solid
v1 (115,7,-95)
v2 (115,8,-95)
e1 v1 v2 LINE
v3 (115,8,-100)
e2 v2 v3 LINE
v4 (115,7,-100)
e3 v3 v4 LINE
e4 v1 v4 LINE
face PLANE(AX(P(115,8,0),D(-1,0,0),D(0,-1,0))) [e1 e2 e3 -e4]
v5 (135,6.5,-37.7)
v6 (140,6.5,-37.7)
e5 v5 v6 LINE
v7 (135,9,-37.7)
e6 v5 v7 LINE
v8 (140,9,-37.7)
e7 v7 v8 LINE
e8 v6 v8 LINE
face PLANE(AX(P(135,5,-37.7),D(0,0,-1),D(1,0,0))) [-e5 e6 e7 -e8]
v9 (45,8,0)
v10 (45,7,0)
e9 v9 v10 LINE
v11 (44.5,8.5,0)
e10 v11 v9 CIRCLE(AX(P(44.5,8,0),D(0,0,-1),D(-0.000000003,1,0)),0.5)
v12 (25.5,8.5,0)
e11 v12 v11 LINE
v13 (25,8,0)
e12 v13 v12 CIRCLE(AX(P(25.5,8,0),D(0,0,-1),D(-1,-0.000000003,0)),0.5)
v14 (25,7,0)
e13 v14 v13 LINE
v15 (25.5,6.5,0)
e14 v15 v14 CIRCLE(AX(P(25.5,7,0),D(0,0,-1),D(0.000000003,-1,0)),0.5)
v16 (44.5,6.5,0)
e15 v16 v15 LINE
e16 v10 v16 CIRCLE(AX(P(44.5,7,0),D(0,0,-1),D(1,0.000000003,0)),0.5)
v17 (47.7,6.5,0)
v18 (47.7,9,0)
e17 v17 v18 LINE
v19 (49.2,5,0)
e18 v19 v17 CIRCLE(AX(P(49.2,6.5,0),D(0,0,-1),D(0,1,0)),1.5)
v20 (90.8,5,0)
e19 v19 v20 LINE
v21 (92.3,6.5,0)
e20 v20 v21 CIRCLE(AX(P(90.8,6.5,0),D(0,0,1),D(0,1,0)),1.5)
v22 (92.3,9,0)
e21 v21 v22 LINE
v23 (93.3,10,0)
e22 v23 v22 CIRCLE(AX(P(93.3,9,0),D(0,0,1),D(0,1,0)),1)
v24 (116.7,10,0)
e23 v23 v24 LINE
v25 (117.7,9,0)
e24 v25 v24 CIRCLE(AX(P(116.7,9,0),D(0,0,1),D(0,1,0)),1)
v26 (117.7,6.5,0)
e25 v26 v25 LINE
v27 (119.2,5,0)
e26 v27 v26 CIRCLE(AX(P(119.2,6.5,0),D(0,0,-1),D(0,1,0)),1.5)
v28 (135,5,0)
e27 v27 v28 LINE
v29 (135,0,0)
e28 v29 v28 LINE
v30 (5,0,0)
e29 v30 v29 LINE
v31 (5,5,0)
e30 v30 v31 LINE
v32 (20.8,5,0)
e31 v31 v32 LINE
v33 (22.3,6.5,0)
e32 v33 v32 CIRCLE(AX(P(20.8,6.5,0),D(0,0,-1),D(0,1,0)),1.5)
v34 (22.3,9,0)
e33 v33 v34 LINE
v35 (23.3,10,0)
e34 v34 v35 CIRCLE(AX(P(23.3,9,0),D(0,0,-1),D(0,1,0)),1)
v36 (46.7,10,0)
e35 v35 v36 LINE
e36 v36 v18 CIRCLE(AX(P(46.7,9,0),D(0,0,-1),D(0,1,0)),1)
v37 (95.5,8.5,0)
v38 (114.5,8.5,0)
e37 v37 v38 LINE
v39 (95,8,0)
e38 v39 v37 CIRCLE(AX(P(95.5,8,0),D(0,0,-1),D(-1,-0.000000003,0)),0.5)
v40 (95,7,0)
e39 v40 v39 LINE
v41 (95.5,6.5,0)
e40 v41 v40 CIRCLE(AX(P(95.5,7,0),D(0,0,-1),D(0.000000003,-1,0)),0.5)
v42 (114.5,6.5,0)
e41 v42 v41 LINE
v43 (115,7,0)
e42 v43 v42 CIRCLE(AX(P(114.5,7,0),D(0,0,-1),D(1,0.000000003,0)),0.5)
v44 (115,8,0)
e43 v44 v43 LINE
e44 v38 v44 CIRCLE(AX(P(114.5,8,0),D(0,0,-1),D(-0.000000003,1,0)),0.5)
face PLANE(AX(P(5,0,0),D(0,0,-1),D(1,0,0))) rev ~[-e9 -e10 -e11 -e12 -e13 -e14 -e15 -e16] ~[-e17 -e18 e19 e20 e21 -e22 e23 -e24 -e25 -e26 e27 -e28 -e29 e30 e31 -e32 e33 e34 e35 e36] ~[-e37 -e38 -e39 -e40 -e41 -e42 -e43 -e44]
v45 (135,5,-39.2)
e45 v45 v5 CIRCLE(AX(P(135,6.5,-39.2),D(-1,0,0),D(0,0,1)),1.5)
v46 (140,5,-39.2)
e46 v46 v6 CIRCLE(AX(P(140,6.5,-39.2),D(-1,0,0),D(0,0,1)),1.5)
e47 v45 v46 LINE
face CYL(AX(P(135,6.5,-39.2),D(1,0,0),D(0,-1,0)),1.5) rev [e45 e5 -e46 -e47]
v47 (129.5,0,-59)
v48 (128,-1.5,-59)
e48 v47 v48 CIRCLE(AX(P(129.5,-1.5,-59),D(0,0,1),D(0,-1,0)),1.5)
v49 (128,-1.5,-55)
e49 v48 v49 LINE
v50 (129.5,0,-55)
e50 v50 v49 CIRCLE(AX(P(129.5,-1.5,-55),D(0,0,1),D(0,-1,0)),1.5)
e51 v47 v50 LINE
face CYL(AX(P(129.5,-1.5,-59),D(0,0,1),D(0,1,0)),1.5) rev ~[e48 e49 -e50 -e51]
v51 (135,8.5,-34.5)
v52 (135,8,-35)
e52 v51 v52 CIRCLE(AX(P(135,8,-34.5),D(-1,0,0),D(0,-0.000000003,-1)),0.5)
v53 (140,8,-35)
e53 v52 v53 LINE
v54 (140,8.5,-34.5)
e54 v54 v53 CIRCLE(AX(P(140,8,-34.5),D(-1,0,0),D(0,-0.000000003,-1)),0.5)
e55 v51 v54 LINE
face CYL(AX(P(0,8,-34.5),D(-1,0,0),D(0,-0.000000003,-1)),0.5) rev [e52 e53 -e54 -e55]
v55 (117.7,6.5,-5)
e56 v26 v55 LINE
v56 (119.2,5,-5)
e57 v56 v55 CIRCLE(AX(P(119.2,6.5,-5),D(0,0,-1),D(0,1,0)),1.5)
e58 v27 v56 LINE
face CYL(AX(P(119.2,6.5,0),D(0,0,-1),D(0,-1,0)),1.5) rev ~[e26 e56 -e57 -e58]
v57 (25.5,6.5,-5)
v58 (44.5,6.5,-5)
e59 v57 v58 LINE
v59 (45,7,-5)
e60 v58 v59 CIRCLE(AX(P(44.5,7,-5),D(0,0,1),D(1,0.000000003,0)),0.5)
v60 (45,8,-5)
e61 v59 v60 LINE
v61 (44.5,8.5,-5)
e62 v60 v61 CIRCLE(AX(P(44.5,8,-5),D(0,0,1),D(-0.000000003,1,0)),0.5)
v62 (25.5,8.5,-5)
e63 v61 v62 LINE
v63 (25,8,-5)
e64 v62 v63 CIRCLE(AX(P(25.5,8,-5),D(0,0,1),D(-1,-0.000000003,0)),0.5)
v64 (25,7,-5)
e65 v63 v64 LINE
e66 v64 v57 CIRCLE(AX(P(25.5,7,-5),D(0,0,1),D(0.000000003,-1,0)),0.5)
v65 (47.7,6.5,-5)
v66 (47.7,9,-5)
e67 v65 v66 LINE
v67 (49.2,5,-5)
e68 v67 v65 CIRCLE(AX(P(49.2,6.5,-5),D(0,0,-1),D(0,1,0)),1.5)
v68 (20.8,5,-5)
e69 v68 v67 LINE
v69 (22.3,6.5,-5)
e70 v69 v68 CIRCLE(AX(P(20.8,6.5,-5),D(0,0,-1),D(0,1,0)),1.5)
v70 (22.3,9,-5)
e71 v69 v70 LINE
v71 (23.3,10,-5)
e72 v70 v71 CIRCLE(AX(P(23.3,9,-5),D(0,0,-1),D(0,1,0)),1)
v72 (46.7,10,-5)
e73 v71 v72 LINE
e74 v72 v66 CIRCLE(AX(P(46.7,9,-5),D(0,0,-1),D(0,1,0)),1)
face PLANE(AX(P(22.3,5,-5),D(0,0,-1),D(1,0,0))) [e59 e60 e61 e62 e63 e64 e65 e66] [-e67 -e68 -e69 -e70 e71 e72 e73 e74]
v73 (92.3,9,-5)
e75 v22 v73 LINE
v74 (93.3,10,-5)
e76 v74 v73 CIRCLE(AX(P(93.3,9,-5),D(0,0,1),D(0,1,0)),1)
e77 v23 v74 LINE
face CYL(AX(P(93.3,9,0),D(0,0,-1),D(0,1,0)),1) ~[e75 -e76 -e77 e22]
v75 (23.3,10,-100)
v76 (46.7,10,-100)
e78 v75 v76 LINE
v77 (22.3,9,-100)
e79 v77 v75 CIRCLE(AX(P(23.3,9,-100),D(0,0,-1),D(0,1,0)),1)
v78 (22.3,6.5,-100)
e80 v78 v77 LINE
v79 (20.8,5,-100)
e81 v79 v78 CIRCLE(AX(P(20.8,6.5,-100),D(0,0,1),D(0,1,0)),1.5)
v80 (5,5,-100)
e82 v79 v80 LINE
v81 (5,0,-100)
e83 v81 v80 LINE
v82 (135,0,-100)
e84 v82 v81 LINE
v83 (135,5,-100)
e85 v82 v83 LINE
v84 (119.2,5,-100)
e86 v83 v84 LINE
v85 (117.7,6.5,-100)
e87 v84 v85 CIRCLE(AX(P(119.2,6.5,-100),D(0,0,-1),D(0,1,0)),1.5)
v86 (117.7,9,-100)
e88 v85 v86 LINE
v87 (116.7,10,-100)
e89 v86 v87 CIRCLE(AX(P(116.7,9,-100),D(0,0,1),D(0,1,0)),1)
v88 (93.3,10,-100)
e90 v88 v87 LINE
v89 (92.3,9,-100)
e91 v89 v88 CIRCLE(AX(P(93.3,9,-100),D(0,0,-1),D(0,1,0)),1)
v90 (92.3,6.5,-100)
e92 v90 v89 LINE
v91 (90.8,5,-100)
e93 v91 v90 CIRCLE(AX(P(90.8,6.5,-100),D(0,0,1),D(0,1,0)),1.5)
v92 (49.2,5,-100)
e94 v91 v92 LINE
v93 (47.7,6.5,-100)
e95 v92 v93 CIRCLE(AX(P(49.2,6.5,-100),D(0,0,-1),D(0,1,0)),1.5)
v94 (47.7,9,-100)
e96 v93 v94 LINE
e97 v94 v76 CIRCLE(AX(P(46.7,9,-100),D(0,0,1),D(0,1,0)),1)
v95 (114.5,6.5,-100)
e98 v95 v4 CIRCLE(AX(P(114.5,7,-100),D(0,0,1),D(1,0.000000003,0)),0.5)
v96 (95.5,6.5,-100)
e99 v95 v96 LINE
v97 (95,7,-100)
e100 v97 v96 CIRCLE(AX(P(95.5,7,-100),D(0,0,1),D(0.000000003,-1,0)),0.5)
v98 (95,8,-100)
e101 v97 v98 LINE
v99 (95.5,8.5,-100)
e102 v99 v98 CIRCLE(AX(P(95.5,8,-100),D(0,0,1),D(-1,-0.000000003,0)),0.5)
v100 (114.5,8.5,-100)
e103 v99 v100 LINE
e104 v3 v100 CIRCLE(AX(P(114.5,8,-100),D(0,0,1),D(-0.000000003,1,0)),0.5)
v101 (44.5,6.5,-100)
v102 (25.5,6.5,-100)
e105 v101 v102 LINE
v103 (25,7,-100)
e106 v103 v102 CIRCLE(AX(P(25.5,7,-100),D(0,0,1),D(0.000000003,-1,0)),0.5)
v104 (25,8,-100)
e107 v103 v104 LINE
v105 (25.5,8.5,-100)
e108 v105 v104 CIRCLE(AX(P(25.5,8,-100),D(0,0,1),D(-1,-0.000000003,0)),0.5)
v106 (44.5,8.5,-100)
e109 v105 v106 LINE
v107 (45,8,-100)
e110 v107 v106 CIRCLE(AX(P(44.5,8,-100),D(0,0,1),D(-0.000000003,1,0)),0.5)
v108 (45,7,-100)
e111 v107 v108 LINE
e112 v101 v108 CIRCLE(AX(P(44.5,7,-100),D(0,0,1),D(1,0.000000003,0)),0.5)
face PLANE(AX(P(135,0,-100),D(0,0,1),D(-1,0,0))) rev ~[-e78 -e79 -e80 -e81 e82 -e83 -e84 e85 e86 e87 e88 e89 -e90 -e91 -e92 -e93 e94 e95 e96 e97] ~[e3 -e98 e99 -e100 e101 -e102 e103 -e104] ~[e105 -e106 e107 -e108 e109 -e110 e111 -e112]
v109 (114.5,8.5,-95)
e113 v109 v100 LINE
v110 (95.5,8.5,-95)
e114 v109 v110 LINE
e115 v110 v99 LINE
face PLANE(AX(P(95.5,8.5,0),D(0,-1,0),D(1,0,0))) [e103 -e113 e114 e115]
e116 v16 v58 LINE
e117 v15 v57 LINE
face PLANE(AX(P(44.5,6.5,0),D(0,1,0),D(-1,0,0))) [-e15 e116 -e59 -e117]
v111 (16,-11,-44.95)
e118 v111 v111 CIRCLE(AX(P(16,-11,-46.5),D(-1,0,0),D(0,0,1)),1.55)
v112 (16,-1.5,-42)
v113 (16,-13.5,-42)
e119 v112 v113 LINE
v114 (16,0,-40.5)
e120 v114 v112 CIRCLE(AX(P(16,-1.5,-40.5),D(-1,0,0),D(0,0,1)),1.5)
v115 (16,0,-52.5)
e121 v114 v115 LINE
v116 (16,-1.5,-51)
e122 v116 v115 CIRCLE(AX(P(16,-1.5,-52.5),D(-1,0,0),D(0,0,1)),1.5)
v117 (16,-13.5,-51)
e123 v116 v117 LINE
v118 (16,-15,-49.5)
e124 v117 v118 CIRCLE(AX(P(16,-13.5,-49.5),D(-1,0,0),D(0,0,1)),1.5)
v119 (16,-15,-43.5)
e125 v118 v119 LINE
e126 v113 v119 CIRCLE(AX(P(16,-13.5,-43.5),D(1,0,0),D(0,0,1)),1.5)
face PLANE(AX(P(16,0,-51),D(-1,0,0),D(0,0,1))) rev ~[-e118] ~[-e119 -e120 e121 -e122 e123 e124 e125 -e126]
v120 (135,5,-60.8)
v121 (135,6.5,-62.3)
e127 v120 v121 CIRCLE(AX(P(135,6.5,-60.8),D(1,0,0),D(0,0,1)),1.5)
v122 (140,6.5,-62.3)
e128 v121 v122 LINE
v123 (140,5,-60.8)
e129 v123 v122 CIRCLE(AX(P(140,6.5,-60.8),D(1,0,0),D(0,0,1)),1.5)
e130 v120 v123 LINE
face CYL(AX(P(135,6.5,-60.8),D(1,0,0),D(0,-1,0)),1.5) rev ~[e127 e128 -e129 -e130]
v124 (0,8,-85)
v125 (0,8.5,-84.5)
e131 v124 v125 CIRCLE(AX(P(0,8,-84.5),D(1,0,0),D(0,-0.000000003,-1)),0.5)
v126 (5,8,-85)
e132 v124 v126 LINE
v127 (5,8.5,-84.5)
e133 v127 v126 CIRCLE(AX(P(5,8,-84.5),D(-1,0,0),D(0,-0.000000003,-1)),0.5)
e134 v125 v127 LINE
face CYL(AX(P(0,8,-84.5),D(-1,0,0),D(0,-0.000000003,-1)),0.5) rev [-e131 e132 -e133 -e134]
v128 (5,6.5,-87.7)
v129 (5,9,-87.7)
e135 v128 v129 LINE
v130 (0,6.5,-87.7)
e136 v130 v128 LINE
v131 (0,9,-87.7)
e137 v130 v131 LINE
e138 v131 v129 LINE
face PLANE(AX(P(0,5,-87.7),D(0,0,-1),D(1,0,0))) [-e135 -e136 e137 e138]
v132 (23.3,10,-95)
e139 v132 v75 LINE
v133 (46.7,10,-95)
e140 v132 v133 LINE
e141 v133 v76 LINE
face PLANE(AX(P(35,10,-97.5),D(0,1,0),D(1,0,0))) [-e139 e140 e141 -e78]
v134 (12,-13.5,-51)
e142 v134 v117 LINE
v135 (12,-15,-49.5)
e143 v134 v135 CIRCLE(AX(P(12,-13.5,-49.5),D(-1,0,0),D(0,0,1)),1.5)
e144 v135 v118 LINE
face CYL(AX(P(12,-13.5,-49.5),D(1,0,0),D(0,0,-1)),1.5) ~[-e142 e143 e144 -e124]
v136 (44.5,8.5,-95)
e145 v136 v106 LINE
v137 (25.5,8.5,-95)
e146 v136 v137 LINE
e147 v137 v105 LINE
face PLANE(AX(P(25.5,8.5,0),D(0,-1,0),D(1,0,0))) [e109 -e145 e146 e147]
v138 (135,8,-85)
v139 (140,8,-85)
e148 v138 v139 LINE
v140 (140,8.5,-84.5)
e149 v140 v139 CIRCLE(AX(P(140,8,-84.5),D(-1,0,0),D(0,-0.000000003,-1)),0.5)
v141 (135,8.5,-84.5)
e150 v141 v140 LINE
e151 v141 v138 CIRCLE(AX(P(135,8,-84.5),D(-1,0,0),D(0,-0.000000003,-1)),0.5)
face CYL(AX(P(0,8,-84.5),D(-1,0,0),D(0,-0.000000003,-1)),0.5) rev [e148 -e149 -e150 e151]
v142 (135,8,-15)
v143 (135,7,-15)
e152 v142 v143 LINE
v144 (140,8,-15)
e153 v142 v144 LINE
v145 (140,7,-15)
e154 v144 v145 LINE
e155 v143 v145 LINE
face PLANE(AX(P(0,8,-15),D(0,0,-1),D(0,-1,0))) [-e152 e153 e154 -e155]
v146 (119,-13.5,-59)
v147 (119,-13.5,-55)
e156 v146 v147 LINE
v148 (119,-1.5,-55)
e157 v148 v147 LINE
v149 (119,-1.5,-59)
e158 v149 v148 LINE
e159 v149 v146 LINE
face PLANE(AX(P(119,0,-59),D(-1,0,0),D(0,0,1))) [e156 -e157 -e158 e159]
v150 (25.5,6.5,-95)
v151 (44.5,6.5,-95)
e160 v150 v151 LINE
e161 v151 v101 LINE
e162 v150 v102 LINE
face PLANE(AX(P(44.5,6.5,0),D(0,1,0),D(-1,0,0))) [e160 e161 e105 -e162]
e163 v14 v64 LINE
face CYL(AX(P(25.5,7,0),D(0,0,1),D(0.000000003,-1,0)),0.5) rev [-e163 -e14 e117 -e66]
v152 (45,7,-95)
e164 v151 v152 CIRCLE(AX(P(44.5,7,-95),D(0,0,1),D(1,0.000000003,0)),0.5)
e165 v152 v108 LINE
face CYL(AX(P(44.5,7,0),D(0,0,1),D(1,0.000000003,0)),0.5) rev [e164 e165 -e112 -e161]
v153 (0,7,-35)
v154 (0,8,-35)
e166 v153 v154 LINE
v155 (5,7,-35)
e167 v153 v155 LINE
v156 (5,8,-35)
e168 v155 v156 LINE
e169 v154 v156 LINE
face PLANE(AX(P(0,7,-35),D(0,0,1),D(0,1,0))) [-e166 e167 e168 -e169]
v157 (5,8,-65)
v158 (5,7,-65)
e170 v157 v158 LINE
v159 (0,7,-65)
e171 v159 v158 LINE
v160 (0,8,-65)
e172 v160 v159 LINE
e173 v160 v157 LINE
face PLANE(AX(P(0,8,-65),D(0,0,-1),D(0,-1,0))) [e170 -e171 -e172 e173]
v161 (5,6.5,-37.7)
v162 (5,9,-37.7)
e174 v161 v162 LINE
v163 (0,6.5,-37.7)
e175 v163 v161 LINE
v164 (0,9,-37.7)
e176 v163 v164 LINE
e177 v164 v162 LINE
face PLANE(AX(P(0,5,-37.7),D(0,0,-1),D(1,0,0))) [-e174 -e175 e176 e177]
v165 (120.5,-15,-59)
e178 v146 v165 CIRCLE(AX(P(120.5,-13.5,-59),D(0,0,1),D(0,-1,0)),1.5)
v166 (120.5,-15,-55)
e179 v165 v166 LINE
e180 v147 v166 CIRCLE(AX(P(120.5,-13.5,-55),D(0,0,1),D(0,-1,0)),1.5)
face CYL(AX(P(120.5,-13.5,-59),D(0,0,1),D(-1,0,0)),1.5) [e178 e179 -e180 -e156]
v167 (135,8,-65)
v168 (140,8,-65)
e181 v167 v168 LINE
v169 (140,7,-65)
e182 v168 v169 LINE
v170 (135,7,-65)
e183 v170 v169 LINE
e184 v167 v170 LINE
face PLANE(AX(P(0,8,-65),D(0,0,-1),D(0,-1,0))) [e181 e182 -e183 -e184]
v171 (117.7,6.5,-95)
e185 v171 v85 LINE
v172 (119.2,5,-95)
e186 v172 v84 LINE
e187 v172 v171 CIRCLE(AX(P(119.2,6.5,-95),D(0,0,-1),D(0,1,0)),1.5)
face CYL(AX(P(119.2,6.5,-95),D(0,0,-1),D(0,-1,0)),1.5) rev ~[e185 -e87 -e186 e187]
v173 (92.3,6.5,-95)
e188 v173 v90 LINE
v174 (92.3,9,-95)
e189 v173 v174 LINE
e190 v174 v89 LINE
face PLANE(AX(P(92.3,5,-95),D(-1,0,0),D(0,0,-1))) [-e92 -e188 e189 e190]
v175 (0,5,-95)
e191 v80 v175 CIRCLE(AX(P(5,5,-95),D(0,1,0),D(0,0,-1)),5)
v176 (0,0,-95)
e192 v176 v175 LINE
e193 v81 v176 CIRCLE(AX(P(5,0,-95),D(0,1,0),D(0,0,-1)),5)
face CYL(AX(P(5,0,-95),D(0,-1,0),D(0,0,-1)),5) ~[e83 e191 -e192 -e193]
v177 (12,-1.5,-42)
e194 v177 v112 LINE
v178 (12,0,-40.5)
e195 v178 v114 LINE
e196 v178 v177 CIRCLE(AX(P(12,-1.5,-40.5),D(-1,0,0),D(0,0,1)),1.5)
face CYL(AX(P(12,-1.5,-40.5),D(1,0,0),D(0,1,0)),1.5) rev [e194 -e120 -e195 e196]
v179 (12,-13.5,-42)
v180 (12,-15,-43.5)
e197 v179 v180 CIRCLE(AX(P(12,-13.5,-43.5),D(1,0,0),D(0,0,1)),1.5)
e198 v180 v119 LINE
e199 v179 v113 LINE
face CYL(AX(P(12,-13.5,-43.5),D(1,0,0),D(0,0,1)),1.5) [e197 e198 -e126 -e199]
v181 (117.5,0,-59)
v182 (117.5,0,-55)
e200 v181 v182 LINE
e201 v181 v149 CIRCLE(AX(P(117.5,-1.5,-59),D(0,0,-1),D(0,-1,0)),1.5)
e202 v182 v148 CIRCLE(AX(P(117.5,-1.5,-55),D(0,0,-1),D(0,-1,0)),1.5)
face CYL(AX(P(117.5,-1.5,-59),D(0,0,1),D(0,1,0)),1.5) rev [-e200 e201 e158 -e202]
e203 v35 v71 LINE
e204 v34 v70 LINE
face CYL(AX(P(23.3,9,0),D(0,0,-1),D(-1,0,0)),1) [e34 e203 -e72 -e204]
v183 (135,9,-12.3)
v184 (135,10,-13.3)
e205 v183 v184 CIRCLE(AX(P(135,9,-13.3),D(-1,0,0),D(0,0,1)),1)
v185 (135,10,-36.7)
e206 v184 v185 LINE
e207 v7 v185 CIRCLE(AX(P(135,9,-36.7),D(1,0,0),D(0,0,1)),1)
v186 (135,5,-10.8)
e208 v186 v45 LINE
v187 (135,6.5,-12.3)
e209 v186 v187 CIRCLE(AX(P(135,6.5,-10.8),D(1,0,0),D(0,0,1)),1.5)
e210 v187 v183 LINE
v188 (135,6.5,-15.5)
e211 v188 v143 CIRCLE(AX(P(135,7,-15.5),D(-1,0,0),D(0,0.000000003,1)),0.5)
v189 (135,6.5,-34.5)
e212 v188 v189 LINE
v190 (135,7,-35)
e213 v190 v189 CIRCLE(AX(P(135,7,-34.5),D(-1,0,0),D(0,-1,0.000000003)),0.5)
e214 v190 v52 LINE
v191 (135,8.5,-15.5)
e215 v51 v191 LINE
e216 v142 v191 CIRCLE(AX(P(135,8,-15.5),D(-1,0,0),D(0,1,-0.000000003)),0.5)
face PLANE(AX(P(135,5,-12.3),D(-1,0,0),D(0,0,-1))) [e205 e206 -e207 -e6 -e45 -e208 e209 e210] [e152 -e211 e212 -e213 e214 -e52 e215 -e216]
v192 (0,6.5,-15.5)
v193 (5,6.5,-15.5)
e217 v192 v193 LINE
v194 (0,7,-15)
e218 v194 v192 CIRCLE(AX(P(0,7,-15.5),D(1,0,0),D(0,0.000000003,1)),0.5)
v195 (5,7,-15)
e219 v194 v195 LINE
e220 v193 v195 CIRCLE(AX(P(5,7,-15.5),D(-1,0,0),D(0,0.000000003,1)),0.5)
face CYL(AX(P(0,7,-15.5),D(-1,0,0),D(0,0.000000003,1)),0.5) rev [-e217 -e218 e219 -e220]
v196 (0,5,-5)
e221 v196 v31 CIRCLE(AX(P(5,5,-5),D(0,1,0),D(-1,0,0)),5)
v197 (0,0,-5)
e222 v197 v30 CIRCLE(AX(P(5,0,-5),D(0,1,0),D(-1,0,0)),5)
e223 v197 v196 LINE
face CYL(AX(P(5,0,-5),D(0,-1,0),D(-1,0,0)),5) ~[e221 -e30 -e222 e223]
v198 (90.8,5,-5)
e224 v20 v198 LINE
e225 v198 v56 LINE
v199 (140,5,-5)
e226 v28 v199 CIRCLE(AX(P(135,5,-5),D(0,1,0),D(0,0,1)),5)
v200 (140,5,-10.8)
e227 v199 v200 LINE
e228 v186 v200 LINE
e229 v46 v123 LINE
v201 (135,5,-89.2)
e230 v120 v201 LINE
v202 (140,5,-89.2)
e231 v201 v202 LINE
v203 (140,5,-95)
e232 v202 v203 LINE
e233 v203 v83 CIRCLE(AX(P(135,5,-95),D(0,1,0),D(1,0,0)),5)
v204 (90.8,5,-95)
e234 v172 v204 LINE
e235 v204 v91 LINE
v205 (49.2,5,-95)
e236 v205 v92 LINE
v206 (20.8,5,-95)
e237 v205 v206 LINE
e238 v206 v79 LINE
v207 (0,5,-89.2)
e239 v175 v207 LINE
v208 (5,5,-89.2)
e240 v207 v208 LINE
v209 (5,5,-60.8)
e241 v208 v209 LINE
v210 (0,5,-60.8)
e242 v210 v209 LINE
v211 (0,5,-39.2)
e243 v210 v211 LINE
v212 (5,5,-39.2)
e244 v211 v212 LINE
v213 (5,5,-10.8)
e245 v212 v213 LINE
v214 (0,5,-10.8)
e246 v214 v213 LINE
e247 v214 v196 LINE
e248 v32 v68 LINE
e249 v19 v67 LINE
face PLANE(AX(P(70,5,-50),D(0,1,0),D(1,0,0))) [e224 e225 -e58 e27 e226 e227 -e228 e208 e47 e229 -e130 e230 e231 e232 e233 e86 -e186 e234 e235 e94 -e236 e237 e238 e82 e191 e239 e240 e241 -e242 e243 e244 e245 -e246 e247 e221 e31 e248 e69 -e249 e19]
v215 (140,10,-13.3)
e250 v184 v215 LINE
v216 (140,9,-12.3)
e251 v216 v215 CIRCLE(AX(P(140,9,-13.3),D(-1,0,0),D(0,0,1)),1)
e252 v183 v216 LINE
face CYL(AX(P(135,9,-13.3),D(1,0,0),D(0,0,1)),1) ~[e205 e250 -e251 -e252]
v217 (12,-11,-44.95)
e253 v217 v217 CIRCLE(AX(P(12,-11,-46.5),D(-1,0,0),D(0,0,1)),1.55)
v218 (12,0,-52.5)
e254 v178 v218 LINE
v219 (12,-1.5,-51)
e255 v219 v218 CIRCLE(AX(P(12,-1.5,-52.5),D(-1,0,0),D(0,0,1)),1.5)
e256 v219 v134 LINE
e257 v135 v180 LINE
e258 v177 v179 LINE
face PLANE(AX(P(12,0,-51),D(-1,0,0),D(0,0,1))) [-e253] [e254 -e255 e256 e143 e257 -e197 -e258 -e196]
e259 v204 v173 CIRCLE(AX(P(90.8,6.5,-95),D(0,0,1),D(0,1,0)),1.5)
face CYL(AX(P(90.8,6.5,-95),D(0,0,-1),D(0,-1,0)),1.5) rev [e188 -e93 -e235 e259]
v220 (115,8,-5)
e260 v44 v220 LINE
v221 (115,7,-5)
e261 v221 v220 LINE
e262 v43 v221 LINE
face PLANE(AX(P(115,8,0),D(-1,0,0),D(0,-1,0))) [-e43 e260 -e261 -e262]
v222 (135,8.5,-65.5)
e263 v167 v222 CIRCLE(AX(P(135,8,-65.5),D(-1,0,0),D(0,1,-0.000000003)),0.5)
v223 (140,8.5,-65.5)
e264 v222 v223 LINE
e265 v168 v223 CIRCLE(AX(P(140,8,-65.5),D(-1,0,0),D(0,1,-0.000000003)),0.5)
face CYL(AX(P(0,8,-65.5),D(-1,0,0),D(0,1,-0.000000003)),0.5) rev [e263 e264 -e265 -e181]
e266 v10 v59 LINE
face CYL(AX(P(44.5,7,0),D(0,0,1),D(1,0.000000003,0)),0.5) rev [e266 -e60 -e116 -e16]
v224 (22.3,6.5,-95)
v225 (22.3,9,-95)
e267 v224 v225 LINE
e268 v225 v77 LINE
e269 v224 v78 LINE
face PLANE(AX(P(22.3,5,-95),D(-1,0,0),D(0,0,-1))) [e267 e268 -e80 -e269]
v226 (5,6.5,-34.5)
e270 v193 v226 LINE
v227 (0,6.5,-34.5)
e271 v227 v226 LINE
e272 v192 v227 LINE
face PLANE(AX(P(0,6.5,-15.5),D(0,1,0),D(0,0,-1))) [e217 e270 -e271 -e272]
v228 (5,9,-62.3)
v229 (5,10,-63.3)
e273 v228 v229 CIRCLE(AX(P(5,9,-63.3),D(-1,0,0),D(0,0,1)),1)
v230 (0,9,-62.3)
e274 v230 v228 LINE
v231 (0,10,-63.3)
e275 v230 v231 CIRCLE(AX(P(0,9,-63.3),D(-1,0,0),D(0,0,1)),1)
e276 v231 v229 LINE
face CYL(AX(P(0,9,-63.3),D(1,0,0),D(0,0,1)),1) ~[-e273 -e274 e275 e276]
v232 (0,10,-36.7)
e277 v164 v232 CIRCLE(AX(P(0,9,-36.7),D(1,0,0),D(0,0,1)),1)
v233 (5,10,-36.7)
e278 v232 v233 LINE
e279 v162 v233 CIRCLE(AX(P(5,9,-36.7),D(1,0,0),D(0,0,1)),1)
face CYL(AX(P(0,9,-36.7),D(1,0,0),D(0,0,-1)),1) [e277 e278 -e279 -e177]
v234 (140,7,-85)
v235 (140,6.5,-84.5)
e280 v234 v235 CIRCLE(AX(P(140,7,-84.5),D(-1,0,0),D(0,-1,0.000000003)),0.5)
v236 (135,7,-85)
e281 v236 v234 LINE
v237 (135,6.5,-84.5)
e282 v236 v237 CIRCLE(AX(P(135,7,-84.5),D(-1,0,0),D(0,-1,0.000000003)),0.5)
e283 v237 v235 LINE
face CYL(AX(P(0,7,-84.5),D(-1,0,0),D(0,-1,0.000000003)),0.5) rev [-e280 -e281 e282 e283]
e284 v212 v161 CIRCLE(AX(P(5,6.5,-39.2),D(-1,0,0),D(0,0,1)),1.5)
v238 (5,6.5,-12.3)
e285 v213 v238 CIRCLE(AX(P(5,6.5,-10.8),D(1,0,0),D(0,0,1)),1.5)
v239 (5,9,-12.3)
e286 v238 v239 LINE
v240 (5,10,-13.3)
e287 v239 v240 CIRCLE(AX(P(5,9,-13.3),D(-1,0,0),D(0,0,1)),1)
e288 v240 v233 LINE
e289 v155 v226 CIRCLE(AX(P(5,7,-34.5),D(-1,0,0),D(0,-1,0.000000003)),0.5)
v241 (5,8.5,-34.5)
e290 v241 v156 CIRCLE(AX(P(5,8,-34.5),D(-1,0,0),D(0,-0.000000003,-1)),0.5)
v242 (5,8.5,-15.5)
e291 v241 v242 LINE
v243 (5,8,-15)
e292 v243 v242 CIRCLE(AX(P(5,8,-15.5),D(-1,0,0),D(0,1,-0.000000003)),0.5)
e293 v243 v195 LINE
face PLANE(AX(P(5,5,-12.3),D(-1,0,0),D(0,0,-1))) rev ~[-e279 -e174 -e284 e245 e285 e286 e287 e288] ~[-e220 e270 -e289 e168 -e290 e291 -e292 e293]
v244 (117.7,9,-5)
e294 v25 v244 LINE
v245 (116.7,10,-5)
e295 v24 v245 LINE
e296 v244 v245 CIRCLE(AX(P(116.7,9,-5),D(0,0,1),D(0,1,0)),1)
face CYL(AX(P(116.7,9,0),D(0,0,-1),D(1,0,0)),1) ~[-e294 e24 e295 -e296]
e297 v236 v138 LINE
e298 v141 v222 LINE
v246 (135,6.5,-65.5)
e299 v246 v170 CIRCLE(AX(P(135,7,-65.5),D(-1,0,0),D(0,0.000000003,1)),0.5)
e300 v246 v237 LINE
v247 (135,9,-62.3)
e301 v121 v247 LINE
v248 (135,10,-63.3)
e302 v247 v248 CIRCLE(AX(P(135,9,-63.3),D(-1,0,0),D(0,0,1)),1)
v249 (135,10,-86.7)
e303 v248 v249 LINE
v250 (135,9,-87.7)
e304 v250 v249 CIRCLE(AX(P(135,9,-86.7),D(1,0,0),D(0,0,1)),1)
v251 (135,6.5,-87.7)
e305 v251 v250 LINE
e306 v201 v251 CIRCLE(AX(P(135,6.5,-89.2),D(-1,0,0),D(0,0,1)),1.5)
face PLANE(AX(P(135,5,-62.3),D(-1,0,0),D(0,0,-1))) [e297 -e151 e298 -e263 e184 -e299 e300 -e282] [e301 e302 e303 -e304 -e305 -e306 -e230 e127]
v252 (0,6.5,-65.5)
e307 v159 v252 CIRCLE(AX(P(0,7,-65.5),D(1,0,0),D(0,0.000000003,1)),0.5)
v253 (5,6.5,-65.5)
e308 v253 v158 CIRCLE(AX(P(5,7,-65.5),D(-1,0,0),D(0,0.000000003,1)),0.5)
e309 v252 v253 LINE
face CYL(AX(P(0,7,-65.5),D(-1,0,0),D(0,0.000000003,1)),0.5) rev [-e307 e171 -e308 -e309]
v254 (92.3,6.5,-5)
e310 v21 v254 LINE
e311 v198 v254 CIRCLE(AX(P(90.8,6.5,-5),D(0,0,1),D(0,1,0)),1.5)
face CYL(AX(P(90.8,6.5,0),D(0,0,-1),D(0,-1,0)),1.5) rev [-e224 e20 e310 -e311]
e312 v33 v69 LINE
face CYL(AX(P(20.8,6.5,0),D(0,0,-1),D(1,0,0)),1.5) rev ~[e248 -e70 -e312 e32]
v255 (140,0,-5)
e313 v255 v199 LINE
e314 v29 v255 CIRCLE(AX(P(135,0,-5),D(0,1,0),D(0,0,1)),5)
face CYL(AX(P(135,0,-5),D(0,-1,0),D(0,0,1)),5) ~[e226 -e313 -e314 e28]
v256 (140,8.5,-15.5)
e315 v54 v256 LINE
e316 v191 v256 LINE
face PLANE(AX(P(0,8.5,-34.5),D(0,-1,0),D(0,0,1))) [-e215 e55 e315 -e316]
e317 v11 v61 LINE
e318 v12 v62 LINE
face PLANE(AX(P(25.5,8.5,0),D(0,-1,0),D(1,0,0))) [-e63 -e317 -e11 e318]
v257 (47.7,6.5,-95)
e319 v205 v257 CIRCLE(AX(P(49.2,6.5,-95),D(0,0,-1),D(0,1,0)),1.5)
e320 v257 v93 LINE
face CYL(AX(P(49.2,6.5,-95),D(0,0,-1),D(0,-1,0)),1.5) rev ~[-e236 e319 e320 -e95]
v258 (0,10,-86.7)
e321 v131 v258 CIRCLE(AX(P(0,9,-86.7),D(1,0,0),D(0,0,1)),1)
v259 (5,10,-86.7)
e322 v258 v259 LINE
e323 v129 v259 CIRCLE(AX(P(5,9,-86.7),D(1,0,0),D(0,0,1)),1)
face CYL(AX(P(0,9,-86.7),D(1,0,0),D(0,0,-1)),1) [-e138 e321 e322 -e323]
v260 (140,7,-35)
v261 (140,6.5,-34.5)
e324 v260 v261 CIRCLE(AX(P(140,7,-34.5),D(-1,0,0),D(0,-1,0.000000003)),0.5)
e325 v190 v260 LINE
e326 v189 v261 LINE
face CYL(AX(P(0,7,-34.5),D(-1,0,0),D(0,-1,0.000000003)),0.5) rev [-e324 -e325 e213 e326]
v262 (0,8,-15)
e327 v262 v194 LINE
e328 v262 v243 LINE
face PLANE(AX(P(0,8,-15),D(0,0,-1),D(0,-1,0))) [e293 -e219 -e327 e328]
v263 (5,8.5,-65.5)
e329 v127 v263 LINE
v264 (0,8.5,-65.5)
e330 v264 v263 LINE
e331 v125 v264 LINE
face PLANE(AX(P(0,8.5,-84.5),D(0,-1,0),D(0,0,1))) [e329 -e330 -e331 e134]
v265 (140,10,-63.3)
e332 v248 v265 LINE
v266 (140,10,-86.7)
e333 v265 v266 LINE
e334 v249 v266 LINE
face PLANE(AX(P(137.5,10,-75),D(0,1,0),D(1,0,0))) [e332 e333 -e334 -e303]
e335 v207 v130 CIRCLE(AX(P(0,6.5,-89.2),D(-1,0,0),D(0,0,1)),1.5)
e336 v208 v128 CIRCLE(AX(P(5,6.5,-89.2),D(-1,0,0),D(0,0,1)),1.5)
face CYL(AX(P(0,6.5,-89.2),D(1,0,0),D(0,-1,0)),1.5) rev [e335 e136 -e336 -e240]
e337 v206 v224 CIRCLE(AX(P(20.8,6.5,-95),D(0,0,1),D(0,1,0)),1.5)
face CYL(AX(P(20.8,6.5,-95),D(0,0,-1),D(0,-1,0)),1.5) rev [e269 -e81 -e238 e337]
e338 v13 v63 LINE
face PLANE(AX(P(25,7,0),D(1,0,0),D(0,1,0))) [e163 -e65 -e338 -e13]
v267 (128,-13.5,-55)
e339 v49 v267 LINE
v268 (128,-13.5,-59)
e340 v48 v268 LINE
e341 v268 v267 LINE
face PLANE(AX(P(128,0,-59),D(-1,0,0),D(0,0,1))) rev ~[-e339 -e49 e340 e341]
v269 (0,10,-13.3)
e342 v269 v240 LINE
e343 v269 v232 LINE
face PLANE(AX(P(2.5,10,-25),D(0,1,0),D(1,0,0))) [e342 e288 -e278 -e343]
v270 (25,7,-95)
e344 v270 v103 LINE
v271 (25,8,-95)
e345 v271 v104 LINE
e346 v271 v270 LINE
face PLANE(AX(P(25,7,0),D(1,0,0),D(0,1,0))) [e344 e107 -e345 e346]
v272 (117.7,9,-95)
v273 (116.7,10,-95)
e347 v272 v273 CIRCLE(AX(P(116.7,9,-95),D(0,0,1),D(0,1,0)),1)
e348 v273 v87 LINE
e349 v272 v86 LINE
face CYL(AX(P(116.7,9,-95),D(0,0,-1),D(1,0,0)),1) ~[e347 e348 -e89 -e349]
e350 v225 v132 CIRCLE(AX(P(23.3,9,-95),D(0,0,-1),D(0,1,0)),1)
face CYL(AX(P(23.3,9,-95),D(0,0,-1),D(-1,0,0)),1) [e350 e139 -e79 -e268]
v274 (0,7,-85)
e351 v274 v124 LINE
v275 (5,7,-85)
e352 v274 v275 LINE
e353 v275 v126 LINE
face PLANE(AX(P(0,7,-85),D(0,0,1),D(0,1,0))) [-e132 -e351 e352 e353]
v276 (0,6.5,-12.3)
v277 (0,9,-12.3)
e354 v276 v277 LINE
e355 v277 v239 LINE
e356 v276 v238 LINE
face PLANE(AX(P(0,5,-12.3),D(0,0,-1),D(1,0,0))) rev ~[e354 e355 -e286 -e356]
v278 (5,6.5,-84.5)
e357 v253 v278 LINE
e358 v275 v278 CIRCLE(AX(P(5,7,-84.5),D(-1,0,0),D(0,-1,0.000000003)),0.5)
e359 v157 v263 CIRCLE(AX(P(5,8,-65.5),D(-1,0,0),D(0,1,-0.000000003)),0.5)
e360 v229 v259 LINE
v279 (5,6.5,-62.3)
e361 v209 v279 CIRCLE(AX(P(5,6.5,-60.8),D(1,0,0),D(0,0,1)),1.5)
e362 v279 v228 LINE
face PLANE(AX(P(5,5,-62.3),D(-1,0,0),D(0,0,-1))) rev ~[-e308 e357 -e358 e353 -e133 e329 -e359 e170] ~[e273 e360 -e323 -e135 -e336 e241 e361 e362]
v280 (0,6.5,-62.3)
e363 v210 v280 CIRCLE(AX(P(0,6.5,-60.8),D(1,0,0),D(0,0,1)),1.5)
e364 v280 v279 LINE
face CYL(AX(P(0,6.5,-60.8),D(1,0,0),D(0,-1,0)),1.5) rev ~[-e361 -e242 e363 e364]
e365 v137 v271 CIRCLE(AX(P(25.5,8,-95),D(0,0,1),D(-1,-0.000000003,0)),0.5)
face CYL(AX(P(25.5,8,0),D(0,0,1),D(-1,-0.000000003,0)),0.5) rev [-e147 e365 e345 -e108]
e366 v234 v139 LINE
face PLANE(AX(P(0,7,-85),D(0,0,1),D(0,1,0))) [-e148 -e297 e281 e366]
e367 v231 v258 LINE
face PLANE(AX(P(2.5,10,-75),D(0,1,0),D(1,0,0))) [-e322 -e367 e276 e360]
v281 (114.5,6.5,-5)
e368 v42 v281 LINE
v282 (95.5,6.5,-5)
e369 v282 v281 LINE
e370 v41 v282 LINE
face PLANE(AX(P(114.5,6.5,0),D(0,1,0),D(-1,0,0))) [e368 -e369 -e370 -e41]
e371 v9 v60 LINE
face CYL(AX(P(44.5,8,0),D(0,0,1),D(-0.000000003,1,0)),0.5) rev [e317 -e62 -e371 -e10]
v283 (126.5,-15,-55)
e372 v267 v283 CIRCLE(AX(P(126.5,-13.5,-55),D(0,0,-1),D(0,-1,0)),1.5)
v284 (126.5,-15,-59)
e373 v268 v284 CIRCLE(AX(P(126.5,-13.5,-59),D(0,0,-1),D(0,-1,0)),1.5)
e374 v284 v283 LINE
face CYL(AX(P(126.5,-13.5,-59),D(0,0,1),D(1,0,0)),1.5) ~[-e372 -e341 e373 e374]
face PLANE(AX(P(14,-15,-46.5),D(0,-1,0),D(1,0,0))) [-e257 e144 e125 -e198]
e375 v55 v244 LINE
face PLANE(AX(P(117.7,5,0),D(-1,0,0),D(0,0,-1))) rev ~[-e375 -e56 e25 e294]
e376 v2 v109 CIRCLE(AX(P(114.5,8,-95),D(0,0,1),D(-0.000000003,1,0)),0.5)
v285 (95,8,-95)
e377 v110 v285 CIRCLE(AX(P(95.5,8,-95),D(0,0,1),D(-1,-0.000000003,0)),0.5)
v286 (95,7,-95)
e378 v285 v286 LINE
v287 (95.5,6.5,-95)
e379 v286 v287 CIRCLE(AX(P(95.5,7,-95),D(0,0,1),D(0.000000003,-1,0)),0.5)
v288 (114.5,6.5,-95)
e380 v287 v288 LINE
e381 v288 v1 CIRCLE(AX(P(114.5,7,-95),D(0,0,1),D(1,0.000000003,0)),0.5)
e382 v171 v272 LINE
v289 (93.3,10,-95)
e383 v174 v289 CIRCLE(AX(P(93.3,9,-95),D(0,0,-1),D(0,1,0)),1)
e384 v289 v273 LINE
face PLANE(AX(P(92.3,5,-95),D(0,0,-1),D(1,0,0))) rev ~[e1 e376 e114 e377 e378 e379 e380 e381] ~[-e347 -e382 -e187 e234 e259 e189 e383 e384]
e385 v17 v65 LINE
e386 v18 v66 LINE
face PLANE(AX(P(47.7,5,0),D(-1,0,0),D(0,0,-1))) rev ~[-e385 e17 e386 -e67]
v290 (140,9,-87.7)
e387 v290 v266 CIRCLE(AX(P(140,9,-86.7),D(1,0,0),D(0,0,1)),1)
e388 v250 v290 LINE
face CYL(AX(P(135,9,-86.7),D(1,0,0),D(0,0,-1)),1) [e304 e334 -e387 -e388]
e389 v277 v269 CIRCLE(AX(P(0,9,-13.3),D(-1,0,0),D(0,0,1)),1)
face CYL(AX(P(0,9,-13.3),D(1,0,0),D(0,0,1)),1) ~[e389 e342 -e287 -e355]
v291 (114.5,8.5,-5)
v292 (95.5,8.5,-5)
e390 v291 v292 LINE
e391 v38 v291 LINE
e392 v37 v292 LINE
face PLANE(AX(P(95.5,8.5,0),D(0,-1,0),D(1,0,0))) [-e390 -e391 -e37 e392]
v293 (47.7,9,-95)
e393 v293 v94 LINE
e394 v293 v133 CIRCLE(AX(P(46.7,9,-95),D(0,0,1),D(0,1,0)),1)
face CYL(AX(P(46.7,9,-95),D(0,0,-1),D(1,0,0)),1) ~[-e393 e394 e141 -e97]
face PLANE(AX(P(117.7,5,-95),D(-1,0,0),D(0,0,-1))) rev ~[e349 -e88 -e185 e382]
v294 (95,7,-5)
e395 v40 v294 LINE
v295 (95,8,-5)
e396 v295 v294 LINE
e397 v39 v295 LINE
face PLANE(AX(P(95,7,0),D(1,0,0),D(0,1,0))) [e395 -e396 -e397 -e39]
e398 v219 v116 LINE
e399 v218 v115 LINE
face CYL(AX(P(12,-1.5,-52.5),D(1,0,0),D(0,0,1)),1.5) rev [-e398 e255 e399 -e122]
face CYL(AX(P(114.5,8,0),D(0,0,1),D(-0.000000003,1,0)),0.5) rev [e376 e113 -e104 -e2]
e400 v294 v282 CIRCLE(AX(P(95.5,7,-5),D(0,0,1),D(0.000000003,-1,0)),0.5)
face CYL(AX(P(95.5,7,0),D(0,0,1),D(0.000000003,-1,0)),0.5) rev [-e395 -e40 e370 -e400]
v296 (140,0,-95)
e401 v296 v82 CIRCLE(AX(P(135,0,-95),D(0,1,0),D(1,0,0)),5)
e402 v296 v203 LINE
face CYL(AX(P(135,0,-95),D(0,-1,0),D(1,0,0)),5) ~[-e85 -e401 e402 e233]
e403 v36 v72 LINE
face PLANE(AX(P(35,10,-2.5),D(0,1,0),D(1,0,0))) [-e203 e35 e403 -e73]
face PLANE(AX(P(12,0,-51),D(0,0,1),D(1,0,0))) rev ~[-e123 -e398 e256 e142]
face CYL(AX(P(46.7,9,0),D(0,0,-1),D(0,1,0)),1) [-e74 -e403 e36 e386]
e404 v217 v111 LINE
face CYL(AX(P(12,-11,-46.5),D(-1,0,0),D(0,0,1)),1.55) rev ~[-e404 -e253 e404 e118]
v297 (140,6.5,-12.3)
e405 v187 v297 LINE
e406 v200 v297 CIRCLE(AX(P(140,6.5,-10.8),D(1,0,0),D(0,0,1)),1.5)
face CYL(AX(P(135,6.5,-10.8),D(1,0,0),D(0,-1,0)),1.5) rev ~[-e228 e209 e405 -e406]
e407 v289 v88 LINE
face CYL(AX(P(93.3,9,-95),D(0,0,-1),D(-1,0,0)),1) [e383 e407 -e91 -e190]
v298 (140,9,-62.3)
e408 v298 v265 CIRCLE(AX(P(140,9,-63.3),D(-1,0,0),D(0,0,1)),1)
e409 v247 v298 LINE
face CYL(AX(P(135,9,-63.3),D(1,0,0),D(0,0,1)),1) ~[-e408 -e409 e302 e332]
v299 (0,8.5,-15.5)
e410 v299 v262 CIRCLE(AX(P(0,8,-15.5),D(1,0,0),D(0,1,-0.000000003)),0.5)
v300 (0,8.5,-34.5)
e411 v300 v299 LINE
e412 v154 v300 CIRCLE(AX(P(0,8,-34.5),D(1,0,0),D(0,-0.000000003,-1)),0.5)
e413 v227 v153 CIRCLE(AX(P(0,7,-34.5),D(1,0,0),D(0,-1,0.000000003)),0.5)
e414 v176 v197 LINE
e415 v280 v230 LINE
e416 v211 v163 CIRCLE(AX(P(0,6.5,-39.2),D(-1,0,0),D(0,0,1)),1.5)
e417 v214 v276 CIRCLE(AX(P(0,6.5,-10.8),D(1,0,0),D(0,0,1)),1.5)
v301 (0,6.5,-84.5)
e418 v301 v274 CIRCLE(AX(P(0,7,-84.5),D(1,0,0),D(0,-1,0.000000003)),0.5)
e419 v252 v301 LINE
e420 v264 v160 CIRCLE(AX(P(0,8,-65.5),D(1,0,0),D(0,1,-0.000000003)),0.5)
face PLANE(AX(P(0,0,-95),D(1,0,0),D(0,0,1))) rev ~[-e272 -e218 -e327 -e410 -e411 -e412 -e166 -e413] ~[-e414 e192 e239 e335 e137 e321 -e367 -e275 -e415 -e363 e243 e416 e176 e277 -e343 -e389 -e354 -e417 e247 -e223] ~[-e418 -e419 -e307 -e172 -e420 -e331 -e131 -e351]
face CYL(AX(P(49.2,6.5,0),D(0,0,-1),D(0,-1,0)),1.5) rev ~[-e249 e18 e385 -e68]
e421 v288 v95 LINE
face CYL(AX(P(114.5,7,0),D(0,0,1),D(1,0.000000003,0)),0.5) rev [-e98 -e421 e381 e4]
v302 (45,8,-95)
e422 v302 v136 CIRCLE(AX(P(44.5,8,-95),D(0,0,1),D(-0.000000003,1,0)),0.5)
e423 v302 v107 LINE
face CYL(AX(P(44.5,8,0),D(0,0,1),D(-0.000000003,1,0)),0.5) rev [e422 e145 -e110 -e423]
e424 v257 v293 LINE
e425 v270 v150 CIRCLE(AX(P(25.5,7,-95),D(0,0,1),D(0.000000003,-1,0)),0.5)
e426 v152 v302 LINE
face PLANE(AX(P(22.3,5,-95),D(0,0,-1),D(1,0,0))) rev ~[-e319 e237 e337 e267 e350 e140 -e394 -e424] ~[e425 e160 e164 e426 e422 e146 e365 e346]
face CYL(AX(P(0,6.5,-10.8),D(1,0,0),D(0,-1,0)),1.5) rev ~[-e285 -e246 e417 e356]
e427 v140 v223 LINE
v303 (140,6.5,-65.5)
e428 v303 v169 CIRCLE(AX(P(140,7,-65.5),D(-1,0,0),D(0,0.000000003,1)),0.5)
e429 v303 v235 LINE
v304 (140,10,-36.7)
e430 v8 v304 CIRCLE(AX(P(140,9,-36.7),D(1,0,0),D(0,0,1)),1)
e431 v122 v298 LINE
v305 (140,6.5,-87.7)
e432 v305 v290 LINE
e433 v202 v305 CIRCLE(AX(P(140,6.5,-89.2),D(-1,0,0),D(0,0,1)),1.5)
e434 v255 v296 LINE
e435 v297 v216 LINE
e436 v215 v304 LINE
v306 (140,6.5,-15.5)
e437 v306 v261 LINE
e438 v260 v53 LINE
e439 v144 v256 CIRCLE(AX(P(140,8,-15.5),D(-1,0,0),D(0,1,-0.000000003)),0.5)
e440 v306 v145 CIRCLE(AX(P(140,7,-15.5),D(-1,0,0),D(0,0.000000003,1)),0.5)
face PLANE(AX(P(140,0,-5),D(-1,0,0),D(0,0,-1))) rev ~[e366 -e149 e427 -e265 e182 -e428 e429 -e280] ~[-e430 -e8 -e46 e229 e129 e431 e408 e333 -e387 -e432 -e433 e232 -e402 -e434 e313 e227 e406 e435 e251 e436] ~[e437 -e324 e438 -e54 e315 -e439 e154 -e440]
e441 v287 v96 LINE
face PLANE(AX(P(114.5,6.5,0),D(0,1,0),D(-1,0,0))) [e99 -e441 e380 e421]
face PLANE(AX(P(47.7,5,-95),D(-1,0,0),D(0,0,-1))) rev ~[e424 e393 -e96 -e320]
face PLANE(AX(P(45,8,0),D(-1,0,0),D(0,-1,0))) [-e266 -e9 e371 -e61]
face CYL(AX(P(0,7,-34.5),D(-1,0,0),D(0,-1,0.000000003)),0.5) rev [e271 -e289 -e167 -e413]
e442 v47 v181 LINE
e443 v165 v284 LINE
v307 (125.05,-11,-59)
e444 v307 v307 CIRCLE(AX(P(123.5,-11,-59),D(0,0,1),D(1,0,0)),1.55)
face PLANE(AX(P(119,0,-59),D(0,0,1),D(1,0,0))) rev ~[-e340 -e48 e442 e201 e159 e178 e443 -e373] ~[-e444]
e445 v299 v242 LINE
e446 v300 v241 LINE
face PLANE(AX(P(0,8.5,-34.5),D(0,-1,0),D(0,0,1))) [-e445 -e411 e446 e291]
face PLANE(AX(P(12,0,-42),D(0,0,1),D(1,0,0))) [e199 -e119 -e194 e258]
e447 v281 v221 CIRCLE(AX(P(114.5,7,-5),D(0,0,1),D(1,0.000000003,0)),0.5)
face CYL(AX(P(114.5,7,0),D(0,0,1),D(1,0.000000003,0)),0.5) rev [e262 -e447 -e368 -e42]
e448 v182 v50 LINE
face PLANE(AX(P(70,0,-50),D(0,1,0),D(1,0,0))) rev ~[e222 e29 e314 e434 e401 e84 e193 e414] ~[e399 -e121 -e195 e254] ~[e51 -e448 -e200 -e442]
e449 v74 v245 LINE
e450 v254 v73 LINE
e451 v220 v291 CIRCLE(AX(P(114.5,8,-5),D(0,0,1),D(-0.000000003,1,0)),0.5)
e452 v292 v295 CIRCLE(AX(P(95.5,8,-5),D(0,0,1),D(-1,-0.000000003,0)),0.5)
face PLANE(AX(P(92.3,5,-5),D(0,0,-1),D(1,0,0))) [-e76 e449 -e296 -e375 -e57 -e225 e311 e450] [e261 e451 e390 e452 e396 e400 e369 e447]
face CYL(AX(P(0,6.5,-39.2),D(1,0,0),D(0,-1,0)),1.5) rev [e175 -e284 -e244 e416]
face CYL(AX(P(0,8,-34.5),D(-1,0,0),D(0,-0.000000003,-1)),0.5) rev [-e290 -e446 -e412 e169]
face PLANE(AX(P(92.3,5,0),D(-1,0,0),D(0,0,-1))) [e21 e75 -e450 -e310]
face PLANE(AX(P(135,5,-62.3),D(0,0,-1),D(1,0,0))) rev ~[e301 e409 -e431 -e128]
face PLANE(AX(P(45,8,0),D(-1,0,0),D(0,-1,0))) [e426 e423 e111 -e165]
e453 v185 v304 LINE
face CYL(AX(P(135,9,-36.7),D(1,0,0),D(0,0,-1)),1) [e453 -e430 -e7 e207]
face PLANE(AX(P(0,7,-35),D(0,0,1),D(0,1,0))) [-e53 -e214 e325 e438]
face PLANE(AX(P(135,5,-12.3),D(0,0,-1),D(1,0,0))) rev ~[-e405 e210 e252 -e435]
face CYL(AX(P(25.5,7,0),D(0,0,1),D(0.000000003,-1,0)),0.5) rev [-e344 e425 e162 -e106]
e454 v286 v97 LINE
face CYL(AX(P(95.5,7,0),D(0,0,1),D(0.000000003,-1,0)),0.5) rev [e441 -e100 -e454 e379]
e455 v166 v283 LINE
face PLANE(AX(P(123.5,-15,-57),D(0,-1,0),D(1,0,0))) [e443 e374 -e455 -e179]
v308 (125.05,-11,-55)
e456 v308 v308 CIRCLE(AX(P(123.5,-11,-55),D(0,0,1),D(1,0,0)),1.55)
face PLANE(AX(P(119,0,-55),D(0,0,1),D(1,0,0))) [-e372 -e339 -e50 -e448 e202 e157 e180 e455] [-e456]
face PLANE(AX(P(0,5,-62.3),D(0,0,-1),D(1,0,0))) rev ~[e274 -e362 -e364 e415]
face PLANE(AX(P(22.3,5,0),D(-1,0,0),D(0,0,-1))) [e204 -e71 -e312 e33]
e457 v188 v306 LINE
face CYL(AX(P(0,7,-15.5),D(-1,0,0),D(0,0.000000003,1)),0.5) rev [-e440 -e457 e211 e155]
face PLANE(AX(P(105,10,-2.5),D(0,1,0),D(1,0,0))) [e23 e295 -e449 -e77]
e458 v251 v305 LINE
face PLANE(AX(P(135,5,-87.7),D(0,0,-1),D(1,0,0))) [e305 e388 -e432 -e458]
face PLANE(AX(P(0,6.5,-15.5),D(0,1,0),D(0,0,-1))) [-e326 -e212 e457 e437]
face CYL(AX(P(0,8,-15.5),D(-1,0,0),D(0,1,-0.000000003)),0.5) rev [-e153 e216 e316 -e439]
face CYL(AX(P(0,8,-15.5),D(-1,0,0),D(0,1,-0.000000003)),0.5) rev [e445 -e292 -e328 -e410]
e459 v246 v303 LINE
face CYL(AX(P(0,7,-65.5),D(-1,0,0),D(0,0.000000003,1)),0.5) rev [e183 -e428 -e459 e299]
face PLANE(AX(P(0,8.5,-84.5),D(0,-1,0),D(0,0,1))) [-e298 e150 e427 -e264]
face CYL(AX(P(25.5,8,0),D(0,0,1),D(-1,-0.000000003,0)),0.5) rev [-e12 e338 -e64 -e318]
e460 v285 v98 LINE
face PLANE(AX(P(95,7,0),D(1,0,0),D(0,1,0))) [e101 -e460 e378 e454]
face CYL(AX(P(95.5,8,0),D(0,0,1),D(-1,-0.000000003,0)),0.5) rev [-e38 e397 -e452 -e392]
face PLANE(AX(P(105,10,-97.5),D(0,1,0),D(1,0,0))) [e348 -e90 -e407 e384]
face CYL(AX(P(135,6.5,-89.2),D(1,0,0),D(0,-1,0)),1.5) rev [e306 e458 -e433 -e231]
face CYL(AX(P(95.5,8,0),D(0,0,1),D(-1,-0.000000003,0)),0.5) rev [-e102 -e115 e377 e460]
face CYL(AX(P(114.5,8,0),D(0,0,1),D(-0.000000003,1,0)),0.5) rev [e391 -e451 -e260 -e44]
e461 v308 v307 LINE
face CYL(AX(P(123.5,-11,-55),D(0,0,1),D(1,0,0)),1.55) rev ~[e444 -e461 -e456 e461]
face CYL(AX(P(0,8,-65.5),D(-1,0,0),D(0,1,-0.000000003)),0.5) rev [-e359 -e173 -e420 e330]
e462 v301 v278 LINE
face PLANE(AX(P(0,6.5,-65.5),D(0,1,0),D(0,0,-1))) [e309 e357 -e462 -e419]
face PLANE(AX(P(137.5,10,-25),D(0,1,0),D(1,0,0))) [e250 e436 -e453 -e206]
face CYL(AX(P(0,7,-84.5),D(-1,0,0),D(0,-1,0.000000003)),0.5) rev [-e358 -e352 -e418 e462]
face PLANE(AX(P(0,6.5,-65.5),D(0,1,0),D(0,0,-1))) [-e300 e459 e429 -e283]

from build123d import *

# Parameters (mm, degrees)
BOSS_EXTRUDE1_DEPTH = 5
SKETCH2_W           = 4
SKETCH2_H           = 9
SKETCH2_W_2         = 9
SKETCH2_H_2         = 4
BOSS_EXTRUDE2_DEPTH = 15
SKETCH3_W           = 5
SKETCH3_H           = 25.4
SKETCH3_W_2         = 25.4
SKETCH3_H_2         = 5
BOSS_EXTRUDE3_DEPTH = 5
CUT_EXTRUDE1_DEPTH  = 173.699160392
CUT_EXTRUDE2_DEPTH  = 173.699160392
FILLET1_R           = 1
FILLET2_R           = 1.5
SKETCH6_R           = 1.55
CUT_EXTRUDE3_DEPTH  = 5
SKETCH7_R           = 1.55
CUT_EXTRUDE4_DEPTH  = 5
FILLET3_R           = 1.5
FILLET4_R           = 1.5


with BuildPart() as part:
    # Sketch1 → Boss-Extrude1 (new body)
    with BuildSketch(Plane(origin=(0, 0, 0), x_dir=(1, 0, 0), z_dir=(0, 1, 0))):
        with BuildLine():
            Line((5, 0), (135, 0))
            ThreePointArc((135, 0), (138.535533906, 1.464466094), (140, 5))
            Line((140, 5), (140, 95))
            ThreePointArc((140, 95), (138.535533906, 98.535533906), (135, 100))
            Line((135, 100), (5, 100))
            ThreePointArc((5, 100), (1.464466094, 98.535533906), (0, 95))
            Line((0, 95), (0, 5))
            ThreePointArc((0, 5), (1.464466094, 1.464466094), (5, 0))
        make_face()
    extrude(amount=BOSS_EXTRUDE1_DEPTH)

    # Sketch2 → Boss-Extrude2 (add)
    with BuildSketch(Plane.XZ):
        with Locations((14, -46.5)):
            Rectangle(SKETCH2_W, SKETCH2_H)
        with Locations((123.5, -57)):
            Rectangle(SKETCH2_W_2, SKETCH2_H_2)
    extrude(amount=BOSS_EXTRUDE2_DEPTH)

    # Sketch3 → Boss-Extrude3 (add)
    with BuildSketch(Plane(origin=(0, 5, 0), x_dir=(1, 0, 0), z_dir=(0, 1, 0))):
        with Locations((2.5, 75)):
            Rectangle(SKETCH3_W, SKETCH3_H)
        with Locations((2.5, 25)):
            Rectangle(SKETCH3_W, SKETCH3_H)
        with Locations((137.5, 75)):
            Rectangle(SKETCH3_W, SKETCH3_H)
        with Locations((137.5, 25)):
            Rectangle(SKETCH3_W, SKETCH3_H)
        with Locations((35, 97.5)):
            Rectangle(SKETCH3_W_2, SKETCH3_H_2)
        with Locations((105, 97.5)):
            Rectangle(SKETCH3_W_2, SKETCH3_H_2)
        with Locations((35, 2.5)):
            Rectangle(SKETCH3_W_2, SKETCH3_H_2)
        with Locations((105, 2.5)):
            Rectangle(SKETCH3_W_2, SKETCH3_H_2)
    extrude(amount=BOSS_EXTRUDE3_DEPTH)

    # Sketch4 → Cut-Extrude1 (cut, through all)
    with BuildSketch(Plane.ZY):
        with BuildLine():
            Line((-84.5, 8.5), (-65.5, 8.5))
            ThreePointArc((-65.5, 8.5), (-65.146446609, 8.353553391), (-65, 8))
            Line((-65, 8), (-65, 7))
            ThreePointArc((-65, 7), (-65.146446609, 6.646446609), (-65.5, 6.5))
            Line((-65.5, 6.5), (-84.5, 6.5))
            ThreePointArc((-84.5, 6.5), (-84.853553391, 6.646446609), (-85, 7))
            Line((-85, 7), (-85, 8))
            ThreePointArc((-85, 8), (-84.853553391, 8.353553391), (-84.5, 8.5))
        make_face()
        with BuildLine():
            Line((-34.5, 8.5), (-15.5, 8.5))
            ThreePointArc((-15.5, 8.5), (-15.146446609, 8.353553391), (-15, 8))
            Line((-15, 8), (-15, 7))
            ThreePointArc((-15, 7), (-15.146446609, 6.646446609), (-15.5, 6.5))
            Line((-15.5, 6.5), (-34.5, 6.5))
            ThreePointArc((-34.5, 6.5), (-34.853553391, 6.646446609), (-35, 7))
            Line((-35, 7), (-35, 8))
            ThreePointArc((-35, 8), (-34.853553391, 8.353553391), (-34.5, 8.5))
        make_face()
    extrude(amount=-CUT_EXTRUDE1_DEPTH, mode=Mode.SUBTRACT)

    # Sketch8 → Cut-Extrude2 (cut, through all)
    with BuildSketch(Plane.XY):
        with BuildLine():
            Line((25.5, 8.5), (44.5, 8.5))
            ThreePointArc((44.5, 8.5), (44.853553391, 8.353553391), (45, 8))
            Line((45, 8), (45, 7))
            ThreePointArc((45, 7), (44.853553391, 6.646446609), (44.5, 6.5))
            Line((44.5, 6.5), (25.5, 6.5))
            ThreePointArc((25.5, 6.5), (25.146446609, 6.646446609), (25, 7))
            Line((25, 7), (25, 8))
            ThreePointArc((25, 8), (25.146446609, 8.353553391), (25.5, 8.5))
        make_face()
        with BuildLine():
            Line((95.5, 8.5), (114.5, 8.5))
            ThreePointArc((114.5, 8.5), (114.853553391, 8.353553391), (115, 8))
            Line((115, 8), (115, 7))
            ThreePointArc((115, 7), (114.853553391, 6.646446609), (114.5, 6.5))
            Line((114.5, 6.5), (95.5, 6.5))
            ThreePointArc((95.5, 6.5), (95.146446609, 6.646446609), (95, 7))
            Line((95, 7), (95, 8))
            ThreePointArc((95, 8), (95.146446609, 8.353553391), (95.5, 8.5))
        make_face()
    extrude(amount=-CUT_EXTRUDE2_DEPTH, mode=Mode.SUBTRACT)

    # Fillet1
    fillet1_edges = [part.edges().sort_by_distance(p)[0] for p in [
        (92.3, 10, -97.5),
        (117.7, 10, -97.5),
        (22.3, 10, -2.5),
        (47.7, 10, -2.5),
        (92.3, 10, -2.5),
        (117.7, 10, -2.5),
        (2.5, 10, -62.3),
        (2.5, 10, -87.7),
        (137.5, 10, -87.7),
        (137.5, 10, -62.3),
        (2.5, 10, -12.3),
        (2.5, 10, -37.7),
        (137.5, 10, -37.7),
        (137.5, 10, -12.3),
        (22.3, 10, -97.5),
        (47.7, 10, -97.5),
    ]]
    fillet(fillet1_edges, radius=FILLET1_R)

    # Fillet2
    fillet2_edges = [part.edges().sort_by_distance(p)[0] for p in [
        (92.3, 5, -97.5),
        (117.7, 5, -97.5),
        (22.3, 5, -2.5),
        (47.7, 5, -2.5),
        (92.3, 5, -2.5),
        (117.7, 5, -2.5),
        (2.5, 5, -62.3),
        (2.5, 5, -87.7),
        (137.5, 5, -87.7),
        (137.5, 5, -62.3),
        (2.5, 5, -12.3),
        (2.5, 5, -37.7),
        (137.5, 5, -37.7),
        (137.5, 5, -12.3),
        (22.3, 5, -97.5),
        (47.7, 5, -97.5),
    ]]
    fillet(fillet2_edges, radius=FILLET2_R)

    # Sketch6 → Cut-Extrude3 (cut)
    with BuildSketch(Plane.ZY.offset(-12)):
        with Locations((-46.5, -11)):
            Circle(SKETCH6_R)
    extrude(amount=-CUT_EXTRUDE3_DEPTH, mode=Mode.SUBTRACT)

    # Sketch7 → Cut-Extrude4 (cut)
    with BuildSketch(Plane.XY.offset(-55)):
        with Locations((123.5, -11)):
            Circle(SKETCH7_R)
    extrude(amount=-CUT_EXTRUDE4_DEPTH, mode=Mode.SUBTRACT)

    # Fillet3
    fillet3_edges = [part.edges().sort_by_distance(p)[0] for p in [
        (14, -15, -51),
        (14, -15, -42),
        (119, -15, -57),
        (128, -15, -57),
    ]]
    fillet(fillet3_edges, radius=FILLET3_R)

    # Fillet4
    fillet4_edges = [part.edges().sort_by_distance(p)[0] for p in [
        (14, 0, -51),
        (14, 0, -42),
        (119, 0, -57),
        (128, 0, -57),
    ]]
    fillet(fillet4_edges, radius=FILLET4_R)


solid = part.part
